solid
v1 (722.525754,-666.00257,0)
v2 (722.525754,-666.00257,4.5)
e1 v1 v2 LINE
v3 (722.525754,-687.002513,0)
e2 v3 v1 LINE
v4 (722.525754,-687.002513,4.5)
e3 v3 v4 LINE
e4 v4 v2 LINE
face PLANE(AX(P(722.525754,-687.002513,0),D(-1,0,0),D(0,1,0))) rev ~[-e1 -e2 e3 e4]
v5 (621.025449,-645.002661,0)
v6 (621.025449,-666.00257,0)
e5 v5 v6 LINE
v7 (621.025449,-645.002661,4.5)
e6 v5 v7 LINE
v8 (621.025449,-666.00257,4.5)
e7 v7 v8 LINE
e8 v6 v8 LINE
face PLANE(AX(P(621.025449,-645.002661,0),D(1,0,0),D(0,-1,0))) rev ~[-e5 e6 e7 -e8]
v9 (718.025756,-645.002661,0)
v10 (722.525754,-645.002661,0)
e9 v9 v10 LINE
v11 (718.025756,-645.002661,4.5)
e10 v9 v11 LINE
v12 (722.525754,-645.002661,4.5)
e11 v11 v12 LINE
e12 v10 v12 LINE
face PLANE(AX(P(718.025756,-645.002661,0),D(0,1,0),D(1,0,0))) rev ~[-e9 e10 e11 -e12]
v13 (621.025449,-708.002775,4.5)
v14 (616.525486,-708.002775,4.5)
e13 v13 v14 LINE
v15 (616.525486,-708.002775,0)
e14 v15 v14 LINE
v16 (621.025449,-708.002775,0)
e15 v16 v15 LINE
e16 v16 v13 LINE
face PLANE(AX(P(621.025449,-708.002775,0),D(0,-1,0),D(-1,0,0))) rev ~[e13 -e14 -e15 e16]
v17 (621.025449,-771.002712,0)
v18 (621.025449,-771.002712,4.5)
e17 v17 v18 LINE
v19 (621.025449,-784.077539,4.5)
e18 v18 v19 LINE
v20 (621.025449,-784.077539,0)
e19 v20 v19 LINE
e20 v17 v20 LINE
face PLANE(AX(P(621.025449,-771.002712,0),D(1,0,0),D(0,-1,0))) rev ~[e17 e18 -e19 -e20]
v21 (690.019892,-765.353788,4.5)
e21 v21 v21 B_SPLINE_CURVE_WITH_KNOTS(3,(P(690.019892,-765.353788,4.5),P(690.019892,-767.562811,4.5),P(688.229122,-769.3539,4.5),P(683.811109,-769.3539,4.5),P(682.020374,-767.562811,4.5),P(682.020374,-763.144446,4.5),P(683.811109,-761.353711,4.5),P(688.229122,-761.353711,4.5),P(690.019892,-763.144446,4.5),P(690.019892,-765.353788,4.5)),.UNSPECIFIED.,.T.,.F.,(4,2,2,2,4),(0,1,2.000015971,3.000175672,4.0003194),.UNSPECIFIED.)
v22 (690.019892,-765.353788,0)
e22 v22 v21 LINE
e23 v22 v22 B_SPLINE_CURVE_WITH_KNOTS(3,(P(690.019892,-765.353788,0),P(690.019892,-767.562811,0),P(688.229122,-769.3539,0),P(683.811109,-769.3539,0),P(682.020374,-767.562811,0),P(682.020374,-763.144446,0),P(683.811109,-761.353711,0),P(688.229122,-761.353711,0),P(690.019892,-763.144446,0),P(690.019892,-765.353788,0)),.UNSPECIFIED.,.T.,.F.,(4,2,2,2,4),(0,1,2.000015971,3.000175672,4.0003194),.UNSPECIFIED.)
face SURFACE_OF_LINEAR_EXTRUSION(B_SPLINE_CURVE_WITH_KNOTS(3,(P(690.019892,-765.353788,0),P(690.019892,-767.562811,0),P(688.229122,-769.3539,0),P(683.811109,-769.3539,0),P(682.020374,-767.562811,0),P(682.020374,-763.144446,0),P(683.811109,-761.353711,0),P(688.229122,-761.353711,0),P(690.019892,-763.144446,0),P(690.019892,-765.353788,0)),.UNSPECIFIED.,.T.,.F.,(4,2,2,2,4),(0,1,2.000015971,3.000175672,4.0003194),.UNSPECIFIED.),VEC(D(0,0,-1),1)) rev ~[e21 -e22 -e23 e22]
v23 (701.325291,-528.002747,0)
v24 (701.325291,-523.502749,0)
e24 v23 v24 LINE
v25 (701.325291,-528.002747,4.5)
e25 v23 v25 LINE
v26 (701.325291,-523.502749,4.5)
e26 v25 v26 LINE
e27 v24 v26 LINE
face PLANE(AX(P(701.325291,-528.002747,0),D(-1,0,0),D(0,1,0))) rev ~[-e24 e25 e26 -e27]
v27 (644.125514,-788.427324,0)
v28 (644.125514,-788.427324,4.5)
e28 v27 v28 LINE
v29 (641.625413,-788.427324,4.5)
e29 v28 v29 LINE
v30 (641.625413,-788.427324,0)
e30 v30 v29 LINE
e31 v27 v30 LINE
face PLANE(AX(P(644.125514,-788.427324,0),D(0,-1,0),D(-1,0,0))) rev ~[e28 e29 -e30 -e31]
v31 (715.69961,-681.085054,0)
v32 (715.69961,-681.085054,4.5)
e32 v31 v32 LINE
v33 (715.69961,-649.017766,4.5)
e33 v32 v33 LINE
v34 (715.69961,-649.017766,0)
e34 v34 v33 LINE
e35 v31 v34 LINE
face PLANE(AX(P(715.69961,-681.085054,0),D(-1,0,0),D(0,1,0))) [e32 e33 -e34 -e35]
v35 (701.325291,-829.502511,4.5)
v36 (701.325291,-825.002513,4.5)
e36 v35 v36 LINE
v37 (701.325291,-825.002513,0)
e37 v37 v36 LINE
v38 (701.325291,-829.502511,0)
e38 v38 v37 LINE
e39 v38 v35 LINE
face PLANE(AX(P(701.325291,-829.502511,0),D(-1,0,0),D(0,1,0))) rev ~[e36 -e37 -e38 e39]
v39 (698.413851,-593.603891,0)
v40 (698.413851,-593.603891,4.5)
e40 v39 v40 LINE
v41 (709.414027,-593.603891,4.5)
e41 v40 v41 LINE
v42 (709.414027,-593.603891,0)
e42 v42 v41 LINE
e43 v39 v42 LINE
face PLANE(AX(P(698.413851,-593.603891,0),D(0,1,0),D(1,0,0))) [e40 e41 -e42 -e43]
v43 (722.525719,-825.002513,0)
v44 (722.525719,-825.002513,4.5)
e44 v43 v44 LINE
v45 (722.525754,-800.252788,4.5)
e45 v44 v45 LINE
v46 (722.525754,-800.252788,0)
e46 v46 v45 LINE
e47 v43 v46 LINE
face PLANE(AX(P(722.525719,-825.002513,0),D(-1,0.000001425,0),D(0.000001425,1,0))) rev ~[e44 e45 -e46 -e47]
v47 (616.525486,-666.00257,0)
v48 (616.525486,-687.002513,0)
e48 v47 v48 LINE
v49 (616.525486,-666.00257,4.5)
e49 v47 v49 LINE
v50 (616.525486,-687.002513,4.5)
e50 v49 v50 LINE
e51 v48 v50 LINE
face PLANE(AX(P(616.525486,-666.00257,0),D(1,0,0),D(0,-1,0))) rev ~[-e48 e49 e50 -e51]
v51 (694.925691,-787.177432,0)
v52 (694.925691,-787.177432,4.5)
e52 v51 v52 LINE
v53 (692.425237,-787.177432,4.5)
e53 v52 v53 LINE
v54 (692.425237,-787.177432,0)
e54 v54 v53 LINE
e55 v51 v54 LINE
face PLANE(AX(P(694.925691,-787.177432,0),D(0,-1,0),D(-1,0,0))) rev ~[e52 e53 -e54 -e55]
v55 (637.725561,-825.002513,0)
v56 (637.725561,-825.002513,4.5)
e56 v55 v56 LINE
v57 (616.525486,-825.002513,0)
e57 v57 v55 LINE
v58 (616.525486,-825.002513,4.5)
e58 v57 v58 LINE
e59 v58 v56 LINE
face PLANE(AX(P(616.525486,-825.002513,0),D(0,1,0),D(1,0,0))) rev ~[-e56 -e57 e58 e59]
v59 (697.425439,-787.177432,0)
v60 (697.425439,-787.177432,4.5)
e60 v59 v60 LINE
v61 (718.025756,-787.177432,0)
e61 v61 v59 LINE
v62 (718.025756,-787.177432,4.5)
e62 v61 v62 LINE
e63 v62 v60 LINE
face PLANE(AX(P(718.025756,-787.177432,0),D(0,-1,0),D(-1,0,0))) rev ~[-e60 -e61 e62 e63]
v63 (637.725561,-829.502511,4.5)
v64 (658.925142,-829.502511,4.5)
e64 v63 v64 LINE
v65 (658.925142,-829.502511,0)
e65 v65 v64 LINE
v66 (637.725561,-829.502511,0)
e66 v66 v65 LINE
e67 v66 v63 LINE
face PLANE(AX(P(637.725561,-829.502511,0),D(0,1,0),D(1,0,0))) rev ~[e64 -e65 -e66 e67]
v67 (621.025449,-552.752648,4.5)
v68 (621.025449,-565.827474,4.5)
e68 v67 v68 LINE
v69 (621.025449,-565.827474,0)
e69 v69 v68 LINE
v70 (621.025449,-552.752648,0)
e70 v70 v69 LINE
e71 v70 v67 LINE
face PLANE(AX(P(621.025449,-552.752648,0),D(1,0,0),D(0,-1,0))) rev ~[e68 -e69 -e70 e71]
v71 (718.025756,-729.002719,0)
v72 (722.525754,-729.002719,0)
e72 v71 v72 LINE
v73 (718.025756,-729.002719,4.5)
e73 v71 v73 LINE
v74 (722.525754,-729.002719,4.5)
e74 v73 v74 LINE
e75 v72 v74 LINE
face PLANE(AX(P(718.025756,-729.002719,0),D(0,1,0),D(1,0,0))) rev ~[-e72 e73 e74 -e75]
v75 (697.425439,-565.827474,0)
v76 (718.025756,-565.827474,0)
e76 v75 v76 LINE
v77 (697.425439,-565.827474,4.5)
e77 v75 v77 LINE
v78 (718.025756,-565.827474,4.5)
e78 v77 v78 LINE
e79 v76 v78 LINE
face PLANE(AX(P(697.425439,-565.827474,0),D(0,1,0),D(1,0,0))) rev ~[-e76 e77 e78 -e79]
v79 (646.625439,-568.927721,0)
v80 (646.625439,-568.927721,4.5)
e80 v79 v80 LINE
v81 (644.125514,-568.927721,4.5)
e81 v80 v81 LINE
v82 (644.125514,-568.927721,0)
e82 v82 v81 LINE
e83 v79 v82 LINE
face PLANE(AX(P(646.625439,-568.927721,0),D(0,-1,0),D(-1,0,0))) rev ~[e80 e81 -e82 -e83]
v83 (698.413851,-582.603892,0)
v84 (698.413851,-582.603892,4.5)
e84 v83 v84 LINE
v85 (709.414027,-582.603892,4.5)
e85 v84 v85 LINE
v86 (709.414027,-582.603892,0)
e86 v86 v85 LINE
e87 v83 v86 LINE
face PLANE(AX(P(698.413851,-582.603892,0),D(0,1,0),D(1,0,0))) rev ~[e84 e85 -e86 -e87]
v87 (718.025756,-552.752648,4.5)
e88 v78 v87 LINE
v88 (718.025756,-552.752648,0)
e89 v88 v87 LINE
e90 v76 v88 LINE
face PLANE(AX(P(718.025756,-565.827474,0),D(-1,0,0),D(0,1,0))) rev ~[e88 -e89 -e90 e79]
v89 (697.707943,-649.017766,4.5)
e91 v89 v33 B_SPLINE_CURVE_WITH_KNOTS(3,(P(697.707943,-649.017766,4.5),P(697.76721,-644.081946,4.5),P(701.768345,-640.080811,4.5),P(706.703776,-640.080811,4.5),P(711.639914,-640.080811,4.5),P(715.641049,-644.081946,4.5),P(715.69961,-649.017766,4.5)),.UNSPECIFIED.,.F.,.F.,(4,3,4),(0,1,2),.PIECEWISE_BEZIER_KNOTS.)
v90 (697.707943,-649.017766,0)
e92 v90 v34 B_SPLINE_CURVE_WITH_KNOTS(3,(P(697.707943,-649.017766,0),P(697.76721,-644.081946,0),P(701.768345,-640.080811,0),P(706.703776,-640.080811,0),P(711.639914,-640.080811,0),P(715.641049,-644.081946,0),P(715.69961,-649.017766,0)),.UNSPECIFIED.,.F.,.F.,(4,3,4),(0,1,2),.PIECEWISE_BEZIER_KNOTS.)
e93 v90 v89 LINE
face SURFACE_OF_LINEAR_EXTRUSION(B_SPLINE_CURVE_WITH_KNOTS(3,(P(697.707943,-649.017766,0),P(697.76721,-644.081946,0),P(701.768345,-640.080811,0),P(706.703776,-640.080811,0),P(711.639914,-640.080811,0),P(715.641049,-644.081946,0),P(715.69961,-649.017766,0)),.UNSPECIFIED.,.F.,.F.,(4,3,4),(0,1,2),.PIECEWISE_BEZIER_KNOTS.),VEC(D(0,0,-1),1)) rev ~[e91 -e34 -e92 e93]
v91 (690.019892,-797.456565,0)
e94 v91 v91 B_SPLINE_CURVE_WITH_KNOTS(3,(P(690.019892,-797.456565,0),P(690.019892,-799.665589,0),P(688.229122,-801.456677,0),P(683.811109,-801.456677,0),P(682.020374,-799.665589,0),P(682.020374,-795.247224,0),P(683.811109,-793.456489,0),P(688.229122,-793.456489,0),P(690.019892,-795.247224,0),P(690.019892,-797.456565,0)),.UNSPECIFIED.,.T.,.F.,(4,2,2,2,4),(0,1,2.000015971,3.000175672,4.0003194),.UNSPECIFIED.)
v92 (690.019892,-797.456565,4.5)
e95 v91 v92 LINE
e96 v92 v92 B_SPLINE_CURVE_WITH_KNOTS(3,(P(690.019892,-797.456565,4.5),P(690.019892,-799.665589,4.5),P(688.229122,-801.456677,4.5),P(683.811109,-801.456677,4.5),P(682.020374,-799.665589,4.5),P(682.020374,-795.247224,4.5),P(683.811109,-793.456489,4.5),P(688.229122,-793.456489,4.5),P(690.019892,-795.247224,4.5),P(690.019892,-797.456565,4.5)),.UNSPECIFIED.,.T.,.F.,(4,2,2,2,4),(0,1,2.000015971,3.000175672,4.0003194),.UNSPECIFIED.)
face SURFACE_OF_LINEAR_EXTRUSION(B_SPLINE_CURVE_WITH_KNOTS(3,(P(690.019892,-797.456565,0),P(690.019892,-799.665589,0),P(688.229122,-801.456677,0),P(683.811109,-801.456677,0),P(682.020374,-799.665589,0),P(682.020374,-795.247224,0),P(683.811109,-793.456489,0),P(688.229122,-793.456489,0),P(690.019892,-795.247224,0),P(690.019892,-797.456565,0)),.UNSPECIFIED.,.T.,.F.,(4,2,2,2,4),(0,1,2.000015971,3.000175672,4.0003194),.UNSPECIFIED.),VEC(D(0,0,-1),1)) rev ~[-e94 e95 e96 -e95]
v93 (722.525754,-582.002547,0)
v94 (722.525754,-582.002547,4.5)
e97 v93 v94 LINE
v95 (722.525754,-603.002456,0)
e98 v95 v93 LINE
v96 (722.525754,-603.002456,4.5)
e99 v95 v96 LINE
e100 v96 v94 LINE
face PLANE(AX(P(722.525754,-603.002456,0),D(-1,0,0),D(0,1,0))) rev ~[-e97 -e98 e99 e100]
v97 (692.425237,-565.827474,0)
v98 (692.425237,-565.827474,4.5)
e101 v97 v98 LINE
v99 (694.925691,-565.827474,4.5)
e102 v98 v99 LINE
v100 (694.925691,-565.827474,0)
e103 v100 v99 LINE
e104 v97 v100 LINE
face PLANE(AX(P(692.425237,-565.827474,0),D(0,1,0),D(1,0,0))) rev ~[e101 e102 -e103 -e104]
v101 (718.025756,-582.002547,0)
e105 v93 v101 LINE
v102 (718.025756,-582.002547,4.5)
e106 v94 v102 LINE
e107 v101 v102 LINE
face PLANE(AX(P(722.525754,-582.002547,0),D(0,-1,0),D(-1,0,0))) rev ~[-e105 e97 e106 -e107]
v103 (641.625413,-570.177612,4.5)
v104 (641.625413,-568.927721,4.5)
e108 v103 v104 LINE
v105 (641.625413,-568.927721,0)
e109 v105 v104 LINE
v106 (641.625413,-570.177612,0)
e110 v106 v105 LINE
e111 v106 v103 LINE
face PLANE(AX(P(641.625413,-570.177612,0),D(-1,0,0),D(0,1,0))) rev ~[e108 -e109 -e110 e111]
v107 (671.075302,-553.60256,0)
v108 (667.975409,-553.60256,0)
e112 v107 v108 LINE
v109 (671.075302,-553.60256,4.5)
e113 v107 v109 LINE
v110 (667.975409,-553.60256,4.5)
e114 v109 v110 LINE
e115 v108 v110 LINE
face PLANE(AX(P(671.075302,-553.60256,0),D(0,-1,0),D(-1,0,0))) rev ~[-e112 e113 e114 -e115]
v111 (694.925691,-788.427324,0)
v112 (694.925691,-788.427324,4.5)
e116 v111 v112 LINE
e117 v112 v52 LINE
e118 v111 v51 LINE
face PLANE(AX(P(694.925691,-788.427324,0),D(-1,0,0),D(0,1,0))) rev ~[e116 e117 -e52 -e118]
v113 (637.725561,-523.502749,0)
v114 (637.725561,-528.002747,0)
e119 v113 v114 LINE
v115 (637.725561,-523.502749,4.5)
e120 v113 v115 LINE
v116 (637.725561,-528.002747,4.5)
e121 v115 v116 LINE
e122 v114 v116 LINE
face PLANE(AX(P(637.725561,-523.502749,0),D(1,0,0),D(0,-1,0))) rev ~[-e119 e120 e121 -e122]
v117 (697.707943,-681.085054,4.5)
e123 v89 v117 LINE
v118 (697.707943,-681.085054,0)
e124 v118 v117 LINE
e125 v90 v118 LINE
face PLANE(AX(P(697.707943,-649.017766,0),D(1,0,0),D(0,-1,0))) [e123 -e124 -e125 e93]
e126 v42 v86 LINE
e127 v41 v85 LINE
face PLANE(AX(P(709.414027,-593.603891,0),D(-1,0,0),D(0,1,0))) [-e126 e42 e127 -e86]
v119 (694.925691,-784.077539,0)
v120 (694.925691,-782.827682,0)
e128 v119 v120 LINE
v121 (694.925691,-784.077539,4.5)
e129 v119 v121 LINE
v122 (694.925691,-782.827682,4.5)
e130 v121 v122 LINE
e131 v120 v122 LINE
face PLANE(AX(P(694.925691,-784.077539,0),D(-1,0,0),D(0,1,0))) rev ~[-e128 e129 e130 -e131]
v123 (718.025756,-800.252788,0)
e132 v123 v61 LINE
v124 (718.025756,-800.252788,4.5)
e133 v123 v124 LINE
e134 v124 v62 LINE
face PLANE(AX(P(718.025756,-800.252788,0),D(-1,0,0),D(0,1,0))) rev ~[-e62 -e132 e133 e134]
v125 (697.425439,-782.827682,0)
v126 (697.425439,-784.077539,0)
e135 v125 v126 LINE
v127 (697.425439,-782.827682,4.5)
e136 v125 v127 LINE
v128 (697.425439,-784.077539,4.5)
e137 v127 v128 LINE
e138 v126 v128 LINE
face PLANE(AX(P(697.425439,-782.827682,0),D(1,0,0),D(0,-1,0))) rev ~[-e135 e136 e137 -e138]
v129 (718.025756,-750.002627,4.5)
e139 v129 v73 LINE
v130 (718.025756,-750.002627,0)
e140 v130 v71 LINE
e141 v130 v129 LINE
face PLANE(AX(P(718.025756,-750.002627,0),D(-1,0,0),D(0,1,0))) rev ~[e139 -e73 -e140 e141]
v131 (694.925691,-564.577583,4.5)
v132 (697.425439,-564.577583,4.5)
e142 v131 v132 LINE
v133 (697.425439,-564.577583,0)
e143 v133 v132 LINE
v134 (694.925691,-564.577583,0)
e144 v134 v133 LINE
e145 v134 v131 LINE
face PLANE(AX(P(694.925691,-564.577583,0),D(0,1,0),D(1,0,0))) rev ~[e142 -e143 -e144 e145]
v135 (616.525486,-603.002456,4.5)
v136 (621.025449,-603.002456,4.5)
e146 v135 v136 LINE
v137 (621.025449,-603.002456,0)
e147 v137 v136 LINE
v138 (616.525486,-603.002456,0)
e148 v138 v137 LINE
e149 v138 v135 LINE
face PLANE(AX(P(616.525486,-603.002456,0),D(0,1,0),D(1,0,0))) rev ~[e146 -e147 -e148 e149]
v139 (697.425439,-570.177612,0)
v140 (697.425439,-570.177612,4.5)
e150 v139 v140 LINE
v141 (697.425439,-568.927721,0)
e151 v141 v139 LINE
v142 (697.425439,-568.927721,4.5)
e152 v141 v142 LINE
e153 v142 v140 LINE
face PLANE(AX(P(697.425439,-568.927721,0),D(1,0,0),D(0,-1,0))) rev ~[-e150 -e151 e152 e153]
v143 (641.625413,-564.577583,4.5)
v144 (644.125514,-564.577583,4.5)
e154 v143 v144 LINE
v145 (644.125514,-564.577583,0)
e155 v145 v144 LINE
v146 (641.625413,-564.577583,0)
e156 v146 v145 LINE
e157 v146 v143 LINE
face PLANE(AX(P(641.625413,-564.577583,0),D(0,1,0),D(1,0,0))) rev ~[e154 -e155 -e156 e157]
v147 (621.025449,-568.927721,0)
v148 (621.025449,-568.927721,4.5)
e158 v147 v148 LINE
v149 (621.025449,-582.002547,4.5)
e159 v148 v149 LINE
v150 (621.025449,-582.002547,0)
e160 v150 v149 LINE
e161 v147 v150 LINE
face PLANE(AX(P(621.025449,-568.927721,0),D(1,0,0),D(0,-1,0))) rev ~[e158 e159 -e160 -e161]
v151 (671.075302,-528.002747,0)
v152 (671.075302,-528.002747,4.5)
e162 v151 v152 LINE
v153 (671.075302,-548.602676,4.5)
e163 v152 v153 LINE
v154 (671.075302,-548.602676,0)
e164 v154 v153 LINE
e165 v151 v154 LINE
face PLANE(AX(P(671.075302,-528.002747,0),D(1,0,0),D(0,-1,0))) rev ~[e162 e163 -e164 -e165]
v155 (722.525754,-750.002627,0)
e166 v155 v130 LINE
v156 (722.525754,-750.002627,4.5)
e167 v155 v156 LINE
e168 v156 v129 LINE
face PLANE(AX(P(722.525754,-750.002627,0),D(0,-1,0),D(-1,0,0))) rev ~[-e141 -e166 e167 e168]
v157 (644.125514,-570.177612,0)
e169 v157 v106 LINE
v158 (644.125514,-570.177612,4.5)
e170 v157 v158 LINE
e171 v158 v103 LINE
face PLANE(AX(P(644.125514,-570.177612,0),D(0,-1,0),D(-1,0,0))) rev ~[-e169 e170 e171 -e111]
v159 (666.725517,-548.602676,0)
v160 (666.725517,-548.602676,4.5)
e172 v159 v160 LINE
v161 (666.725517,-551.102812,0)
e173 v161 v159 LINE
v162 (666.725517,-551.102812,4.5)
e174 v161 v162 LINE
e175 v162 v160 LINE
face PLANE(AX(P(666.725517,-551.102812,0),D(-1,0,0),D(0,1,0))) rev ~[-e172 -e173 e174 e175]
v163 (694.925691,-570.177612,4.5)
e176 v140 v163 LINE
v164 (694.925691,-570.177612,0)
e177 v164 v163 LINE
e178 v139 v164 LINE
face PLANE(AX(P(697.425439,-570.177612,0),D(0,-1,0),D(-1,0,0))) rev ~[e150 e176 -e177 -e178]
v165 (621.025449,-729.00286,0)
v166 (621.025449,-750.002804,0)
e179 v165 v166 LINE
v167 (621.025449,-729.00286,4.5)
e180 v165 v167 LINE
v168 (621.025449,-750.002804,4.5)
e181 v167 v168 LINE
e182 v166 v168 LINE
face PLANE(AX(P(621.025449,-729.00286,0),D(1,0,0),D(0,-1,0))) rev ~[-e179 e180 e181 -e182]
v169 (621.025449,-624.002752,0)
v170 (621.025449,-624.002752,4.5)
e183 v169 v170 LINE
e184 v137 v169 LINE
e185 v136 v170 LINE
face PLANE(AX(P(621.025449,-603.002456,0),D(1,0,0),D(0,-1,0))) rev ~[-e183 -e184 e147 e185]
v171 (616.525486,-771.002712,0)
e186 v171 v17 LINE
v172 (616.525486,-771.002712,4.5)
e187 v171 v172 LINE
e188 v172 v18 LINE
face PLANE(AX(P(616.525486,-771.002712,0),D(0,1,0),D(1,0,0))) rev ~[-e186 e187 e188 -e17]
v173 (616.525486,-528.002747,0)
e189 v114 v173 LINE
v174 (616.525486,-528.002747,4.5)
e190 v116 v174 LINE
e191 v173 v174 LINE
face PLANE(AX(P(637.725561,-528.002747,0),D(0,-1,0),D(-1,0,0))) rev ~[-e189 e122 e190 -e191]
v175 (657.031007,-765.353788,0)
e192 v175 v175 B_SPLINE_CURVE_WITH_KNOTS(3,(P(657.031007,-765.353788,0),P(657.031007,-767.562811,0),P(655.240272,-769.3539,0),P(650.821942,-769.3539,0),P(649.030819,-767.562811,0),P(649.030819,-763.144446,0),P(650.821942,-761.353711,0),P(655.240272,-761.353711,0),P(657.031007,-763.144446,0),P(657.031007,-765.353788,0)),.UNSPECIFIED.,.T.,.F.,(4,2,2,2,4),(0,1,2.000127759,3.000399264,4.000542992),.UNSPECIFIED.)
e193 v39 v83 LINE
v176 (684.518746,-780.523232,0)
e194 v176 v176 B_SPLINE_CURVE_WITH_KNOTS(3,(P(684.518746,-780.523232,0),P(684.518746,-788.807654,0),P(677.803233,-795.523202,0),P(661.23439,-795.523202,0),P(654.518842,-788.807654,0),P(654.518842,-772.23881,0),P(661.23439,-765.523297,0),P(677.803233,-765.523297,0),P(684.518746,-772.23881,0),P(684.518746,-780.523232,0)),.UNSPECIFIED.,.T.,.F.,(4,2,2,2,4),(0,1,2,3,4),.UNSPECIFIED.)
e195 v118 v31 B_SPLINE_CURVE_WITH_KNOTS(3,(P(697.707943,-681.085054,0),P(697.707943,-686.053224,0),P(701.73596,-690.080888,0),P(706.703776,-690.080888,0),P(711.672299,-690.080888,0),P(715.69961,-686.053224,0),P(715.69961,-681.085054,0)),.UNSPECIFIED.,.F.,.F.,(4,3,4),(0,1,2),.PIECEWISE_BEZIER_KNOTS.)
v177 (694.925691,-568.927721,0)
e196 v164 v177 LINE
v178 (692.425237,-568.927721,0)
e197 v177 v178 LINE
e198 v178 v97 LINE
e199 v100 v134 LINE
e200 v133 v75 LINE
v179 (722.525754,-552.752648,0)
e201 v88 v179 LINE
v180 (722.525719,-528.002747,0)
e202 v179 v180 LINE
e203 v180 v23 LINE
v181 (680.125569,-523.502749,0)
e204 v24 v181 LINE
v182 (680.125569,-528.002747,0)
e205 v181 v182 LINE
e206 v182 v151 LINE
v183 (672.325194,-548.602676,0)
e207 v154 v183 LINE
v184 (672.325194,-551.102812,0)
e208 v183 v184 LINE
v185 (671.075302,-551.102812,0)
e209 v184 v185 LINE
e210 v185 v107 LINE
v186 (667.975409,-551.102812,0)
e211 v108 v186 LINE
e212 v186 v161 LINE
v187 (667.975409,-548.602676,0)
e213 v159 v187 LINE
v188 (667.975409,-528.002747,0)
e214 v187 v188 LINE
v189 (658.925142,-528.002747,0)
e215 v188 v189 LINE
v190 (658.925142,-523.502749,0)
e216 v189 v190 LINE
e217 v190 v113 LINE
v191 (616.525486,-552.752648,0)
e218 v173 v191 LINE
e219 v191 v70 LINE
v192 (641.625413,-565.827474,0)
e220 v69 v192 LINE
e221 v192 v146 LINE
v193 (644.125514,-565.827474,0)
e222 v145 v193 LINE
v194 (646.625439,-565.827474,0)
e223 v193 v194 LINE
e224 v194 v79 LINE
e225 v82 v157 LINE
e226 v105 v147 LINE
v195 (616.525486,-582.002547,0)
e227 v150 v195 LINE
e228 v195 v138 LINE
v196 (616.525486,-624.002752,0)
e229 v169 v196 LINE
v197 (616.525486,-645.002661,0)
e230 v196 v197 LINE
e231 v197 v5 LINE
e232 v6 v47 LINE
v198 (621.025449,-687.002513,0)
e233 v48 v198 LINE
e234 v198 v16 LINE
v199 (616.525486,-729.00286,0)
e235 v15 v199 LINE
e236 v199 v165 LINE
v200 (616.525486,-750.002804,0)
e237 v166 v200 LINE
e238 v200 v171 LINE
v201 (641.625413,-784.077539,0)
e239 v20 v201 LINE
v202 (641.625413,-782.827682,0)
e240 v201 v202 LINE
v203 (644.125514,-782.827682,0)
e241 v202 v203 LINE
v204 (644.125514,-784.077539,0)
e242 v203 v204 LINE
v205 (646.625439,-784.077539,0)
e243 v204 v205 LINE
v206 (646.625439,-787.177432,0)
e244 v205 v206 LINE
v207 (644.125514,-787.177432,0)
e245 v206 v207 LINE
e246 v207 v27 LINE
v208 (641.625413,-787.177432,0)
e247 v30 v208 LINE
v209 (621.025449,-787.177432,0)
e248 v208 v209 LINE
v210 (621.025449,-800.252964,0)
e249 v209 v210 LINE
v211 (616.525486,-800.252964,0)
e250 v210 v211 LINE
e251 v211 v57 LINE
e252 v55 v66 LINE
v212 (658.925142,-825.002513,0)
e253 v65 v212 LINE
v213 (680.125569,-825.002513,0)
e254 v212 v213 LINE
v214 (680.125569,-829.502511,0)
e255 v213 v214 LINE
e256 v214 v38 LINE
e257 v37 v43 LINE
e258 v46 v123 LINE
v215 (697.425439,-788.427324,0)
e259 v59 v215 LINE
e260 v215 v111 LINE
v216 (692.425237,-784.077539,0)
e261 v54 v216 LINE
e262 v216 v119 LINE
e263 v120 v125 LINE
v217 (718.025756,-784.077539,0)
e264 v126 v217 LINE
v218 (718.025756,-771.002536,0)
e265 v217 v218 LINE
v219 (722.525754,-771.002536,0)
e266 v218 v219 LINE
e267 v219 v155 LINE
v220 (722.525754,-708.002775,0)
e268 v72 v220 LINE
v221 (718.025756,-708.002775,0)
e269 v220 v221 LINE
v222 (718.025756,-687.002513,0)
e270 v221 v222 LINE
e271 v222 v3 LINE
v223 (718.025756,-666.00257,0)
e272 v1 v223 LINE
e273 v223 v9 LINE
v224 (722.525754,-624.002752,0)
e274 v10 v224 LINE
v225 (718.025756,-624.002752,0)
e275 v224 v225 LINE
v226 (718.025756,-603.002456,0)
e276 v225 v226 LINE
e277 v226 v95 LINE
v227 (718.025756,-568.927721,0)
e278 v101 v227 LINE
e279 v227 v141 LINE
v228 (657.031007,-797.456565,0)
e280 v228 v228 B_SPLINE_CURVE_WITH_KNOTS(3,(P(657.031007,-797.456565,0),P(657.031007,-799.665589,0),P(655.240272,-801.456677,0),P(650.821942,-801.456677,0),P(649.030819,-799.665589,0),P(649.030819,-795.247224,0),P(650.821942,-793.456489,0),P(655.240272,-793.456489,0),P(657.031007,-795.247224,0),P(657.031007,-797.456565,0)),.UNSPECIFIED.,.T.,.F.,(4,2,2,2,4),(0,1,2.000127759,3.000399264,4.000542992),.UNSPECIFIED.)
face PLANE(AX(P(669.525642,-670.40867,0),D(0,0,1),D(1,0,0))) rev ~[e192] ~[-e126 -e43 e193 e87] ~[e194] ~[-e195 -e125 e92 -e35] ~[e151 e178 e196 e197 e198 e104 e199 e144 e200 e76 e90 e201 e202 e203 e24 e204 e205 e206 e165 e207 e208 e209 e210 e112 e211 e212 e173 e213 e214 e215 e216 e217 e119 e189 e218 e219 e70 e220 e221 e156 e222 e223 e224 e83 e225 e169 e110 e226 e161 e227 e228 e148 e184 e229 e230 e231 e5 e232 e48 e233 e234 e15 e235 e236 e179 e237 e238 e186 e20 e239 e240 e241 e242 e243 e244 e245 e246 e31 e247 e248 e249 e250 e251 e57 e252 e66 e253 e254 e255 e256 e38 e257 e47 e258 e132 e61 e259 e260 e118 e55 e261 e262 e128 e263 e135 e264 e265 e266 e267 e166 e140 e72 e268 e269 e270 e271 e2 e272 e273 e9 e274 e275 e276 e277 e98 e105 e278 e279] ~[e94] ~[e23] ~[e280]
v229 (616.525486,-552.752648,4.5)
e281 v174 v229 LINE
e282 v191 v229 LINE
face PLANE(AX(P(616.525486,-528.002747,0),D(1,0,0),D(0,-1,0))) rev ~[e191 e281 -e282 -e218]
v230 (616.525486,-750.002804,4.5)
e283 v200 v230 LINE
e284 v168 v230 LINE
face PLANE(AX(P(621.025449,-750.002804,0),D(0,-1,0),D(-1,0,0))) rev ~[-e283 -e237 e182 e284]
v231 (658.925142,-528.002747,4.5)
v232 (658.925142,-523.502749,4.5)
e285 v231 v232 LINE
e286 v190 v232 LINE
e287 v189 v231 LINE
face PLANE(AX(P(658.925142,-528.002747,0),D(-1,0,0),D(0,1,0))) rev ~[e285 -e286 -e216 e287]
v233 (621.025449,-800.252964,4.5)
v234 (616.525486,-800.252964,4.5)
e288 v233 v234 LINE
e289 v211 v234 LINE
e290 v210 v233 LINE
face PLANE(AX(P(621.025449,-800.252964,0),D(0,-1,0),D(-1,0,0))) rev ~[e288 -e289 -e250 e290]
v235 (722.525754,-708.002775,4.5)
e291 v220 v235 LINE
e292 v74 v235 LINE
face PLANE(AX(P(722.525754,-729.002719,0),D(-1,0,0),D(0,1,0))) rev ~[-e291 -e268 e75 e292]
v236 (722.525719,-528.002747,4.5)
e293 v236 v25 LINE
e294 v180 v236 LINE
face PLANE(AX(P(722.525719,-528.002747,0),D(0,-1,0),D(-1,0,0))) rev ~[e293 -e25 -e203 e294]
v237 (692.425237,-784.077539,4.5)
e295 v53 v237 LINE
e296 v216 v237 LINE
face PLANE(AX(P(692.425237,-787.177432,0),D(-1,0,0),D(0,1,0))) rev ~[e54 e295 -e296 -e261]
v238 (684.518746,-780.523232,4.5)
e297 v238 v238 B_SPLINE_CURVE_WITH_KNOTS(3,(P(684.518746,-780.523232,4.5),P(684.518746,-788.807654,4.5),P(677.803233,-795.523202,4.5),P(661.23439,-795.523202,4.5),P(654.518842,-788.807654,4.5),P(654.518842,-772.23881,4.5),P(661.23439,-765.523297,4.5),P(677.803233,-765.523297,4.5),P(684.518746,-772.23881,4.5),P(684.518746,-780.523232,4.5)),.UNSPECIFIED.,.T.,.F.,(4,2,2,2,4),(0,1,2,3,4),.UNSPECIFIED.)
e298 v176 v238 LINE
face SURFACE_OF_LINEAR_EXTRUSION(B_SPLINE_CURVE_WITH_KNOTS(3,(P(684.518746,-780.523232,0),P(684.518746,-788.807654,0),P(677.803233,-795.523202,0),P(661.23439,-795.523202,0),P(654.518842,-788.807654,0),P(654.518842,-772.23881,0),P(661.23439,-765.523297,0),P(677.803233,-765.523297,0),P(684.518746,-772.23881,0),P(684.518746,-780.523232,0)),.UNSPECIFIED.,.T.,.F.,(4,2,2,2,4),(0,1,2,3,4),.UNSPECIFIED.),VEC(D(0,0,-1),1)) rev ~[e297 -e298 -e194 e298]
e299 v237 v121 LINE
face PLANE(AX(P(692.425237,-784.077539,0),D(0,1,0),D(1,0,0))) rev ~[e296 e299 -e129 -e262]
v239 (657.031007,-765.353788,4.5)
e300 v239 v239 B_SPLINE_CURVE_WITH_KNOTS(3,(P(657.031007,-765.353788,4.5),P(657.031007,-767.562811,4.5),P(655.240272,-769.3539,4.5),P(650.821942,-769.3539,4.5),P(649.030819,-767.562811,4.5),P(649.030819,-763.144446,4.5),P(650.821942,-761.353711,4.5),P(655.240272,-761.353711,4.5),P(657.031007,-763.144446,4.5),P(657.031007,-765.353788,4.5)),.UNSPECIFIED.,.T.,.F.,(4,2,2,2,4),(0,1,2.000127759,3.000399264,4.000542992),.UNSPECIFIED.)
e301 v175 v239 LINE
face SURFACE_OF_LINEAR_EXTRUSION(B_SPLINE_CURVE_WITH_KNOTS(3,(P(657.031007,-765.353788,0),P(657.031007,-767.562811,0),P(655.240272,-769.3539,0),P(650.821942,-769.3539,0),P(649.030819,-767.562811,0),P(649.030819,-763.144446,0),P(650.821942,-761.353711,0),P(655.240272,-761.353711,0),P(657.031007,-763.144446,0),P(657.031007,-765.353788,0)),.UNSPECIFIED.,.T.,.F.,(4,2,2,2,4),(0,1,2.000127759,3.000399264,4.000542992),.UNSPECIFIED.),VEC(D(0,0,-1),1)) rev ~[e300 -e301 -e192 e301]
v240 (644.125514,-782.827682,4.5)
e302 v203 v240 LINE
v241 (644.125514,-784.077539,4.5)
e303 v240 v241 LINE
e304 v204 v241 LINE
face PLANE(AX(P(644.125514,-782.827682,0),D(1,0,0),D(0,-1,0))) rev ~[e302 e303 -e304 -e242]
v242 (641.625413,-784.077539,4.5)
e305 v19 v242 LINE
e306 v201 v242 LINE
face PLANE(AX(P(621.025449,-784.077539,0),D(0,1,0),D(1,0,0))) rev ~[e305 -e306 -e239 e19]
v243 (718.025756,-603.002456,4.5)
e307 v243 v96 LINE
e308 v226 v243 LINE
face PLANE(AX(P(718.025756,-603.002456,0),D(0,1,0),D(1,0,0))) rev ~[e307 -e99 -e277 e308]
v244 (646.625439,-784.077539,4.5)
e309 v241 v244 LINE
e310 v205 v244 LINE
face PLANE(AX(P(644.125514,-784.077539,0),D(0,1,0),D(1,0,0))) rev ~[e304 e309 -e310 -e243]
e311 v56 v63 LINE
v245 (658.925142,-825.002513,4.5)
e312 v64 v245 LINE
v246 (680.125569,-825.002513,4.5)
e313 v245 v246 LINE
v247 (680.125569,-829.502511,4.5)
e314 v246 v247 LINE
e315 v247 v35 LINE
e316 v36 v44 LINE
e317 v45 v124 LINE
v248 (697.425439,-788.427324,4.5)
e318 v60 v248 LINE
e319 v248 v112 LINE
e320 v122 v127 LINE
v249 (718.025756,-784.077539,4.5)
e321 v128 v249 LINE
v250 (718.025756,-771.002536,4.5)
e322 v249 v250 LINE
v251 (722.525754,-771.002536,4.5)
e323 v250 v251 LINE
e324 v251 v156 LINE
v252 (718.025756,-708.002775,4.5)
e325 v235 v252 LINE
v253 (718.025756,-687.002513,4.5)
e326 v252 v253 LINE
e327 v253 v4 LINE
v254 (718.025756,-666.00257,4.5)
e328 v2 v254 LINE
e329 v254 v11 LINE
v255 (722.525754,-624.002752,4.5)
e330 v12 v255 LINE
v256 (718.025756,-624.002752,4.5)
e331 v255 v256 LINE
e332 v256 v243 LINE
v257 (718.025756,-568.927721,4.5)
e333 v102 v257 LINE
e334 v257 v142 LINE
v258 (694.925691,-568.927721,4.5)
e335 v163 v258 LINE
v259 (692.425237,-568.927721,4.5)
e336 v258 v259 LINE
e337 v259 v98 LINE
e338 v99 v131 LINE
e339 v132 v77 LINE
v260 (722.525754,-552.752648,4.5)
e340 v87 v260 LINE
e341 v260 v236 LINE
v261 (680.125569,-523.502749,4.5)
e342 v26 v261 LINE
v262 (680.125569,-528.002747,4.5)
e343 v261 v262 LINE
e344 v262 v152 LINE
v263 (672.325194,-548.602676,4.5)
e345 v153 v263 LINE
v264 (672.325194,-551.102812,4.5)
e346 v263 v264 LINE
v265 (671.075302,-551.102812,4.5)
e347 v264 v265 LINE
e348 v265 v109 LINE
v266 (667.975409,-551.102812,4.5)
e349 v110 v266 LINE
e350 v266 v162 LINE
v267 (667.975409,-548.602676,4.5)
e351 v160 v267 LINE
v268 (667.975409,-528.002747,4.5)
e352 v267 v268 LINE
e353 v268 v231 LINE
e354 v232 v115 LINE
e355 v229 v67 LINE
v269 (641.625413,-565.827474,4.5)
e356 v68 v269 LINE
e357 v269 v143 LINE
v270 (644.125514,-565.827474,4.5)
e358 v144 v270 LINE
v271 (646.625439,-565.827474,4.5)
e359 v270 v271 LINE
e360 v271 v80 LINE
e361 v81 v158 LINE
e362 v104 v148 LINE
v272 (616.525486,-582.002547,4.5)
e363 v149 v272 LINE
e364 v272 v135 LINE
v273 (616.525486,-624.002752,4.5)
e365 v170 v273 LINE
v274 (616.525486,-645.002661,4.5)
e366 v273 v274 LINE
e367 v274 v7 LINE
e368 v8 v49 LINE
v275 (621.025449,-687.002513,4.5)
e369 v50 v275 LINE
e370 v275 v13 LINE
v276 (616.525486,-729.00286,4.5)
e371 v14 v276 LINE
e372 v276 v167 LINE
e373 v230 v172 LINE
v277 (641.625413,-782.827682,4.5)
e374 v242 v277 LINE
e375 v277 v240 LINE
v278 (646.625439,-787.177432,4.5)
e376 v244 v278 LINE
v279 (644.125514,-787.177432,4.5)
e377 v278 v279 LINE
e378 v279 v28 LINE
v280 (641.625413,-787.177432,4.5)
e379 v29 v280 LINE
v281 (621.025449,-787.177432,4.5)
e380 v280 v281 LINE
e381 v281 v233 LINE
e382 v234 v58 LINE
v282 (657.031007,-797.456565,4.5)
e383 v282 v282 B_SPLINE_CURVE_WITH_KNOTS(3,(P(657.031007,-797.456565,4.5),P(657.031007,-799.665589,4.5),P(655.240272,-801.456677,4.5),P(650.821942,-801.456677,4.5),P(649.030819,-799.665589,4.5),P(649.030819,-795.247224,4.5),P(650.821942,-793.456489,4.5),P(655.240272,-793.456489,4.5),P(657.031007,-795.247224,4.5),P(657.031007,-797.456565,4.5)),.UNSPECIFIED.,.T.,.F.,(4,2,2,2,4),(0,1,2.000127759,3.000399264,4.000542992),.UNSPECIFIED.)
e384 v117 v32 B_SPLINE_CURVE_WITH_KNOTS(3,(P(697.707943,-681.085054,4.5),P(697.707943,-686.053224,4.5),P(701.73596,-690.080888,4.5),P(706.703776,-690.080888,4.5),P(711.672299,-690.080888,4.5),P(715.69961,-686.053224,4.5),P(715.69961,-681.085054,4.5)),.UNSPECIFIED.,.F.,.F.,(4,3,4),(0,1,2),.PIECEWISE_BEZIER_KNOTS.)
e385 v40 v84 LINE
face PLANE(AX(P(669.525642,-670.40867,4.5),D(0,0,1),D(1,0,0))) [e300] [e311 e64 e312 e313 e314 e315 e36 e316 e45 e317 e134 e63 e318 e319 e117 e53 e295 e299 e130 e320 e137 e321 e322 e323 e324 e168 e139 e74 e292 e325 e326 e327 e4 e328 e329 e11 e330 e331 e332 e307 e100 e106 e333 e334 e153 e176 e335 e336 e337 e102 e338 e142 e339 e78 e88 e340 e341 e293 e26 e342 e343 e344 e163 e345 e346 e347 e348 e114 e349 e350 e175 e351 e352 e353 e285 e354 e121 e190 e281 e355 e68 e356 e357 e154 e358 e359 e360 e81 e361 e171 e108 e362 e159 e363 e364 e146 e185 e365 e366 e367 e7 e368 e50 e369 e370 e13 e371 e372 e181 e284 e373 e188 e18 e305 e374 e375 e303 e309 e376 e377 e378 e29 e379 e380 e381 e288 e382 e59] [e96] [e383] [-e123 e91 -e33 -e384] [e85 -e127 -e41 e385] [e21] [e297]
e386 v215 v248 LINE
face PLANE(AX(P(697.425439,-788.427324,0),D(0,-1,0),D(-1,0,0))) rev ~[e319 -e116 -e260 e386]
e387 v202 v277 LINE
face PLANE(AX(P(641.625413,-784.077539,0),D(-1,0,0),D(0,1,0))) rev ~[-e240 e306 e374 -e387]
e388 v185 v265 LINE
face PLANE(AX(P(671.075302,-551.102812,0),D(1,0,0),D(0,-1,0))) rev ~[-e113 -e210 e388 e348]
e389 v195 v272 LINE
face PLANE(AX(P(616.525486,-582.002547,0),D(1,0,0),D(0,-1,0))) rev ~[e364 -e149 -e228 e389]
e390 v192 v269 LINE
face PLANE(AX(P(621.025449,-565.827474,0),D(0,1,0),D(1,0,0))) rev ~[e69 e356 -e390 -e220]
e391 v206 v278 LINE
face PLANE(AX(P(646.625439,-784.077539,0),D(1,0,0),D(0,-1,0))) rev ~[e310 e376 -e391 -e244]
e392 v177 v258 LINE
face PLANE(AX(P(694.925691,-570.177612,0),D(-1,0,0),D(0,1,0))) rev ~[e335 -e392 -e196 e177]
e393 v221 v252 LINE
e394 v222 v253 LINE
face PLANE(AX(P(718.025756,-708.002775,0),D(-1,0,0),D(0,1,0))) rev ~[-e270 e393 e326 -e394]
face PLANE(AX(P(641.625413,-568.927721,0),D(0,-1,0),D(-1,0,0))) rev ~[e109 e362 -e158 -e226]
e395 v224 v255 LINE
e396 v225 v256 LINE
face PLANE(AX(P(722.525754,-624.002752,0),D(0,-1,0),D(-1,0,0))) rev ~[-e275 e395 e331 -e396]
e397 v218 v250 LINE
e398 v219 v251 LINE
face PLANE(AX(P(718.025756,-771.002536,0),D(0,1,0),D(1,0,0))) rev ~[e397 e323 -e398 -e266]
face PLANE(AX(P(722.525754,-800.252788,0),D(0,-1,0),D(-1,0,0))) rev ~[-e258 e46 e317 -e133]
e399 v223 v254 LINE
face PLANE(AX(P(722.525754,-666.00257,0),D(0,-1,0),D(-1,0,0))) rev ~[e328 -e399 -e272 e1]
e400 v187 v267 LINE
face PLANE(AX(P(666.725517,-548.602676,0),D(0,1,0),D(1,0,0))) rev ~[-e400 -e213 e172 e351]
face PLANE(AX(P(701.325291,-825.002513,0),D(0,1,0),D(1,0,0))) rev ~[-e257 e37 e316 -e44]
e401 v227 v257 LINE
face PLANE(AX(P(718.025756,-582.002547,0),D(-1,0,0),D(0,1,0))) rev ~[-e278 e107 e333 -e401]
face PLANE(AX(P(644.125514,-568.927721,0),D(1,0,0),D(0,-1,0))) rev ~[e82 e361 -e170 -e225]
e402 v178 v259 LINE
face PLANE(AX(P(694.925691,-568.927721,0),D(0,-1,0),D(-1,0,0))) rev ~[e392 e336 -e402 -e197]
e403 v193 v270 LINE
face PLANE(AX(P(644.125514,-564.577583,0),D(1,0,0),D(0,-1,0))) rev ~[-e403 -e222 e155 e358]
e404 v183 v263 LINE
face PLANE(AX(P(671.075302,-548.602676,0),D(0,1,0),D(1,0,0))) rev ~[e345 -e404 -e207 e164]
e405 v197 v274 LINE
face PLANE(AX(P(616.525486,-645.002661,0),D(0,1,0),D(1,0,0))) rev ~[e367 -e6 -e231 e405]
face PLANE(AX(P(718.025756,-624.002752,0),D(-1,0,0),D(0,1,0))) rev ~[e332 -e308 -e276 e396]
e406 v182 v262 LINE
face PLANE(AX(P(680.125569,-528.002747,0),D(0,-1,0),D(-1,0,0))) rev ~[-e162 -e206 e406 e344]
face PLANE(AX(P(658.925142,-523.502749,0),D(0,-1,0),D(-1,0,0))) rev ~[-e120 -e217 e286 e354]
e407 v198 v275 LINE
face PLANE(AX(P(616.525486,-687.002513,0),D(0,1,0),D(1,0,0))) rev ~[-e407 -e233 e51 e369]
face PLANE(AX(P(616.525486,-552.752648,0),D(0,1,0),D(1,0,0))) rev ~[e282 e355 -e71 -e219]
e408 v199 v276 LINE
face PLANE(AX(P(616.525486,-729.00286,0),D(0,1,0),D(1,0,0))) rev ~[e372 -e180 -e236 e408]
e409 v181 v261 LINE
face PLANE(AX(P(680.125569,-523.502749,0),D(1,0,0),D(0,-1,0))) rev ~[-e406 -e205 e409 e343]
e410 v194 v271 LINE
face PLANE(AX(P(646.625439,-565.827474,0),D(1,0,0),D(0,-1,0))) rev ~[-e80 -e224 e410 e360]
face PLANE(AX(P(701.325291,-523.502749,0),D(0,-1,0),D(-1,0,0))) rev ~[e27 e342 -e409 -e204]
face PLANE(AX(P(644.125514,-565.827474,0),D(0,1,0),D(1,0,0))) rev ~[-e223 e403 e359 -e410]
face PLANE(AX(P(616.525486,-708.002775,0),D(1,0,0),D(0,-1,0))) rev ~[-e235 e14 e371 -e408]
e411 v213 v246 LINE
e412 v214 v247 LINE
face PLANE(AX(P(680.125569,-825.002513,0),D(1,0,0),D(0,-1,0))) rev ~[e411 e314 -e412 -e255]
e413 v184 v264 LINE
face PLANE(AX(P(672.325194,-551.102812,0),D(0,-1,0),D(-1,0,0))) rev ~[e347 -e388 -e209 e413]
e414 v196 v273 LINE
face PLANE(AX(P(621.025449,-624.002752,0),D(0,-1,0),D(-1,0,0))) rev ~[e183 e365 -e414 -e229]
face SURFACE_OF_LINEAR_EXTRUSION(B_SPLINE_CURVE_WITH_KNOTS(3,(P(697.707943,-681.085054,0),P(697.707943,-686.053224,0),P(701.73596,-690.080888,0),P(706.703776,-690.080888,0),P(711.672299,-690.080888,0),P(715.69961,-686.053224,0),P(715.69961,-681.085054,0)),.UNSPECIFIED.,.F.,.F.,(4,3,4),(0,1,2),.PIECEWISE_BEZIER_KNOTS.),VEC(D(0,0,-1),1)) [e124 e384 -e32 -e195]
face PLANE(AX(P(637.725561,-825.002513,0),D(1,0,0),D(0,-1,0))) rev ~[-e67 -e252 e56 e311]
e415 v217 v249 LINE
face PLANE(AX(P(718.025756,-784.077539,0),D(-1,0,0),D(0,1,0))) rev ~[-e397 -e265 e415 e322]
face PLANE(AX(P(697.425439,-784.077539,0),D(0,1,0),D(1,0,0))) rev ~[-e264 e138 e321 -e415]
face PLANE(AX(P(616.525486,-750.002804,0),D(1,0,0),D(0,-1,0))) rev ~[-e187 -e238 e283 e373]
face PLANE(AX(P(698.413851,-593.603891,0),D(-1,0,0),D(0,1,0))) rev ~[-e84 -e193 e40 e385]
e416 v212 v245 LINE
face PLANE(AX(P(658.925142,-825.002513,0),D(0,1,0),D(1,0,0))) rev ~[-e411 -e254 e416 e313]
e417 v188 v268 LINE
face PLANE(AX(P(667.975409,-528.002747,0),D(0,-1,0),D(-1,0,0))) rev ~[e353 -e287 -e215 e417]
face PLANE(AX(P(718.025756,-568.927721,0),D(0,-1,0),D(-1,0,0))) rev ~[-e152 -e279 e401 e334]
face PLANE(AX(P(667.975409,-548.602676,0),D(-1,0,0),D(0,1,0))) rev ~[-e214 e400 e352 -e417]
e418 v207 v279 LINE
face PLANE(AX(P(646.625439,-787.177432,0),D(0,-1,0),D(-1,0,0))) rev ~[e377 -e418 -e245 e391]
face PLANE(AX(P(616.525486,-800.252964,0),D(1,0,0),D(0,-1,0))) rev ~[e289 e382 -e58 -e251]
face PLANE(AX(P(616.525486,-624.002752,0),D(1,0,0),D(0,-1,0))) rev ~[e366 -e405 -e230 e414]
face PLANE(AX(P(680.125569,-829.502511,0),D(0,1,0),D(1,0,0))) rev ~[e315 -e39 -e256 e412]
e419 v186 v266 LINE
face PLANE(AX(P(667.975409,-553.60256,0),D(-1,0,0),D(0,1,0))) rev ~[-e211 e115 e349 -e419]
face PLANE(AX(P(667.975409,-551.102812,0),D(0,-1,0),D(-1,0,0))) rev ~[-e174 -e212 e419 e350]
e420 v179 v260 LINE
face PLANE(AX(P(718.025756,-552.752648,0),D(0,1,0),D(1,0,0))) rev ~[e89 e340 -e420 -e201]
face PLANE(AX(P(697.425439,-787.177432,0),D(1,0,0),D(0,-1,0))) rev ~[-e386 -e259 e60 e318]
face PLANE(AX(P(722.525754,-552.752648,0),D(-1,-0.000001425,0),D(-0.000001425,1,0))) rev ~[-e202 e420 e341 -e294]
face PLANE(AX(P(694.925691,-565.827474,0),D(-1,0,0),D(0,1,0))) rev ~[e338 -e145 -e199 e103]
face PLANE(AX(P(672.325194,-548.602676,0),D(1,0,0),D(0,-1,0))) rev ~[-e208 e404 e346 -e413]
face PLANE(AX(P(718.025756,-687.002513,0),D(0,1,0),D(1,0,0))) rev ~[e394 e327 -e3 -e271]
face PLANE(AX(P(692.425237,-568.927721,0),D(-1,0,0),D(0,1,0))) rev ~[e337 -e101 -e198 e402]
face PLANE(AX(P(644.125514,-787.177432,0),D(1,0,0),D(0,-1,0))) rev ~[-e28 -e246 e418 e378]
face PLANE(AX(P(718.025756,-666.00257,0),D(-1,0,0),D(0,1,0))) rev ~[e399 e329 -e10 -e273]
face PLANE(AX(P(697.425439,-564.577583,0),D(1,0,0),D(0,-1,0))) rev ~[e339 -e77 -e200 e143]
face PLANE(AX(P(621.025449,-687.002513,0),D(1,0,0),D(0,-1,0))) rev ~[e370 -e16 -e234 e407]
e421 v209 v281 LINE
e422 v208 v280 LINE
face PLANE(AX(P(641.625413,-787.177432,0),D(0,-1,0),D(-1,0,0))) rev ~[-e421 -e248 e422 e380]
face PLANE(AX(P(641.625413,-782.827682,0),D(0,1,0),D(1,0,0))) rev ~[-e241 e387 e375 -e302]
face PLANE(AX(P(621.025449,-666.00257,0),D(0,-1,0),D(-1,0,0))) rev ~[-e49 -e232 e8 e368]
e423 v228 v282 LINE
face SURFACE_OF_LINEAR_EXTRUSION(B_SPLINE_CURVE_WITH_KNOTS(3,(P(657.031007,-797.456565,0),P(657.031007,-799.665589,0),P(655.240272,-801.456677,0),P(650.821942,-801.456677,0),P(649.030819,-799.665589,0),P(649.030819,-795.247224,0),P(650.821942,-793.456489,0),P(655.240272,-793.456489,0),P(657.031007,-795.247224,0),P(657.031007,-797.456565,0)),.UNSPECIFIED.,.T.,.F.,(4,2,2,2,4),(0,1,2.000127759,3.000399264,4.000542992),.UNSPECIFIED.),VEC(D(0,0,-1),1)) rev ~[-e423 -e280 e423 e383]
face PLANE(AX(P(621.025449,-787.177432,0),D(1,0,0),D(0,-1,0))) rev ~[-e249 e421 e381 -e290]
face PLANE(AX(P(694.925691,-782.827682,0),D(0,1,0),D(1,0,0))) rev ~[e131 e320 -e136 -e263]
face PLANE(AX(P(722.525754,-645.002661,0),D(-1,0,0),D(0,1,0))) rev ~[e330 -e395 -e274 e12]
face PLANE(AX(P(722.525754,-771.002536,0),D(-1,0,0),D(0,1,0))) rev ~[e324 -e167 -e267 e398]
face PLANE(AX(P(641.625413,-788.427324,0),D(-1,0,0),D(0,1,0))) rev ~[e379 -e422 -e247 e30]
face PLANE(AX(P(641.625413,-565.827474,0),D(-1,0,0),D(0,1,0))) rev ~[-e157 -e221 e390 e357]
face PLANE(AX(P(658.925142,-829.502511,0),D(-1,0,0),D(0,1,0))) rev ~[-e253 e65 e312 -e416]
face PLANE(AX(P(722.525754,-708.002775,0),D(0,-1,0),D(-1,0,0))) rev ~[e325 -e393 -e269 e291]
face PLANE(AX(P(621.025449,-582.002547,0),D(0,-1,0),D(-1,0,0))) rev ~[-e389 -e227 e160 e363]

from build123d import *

# Parameters (mm, degrees)
MODEL_W             = 11.000175553
MODEL_H             = 10.999999163
BOSS_EXTRUDE1_DEPTH = 4.5


with BuildPart() as part:
    # Model → Boss-Extrude1 (new body)
    with BuildSketch(Plane.XY):
        Polygon((718.025755932, -565.527754303), (718.025755932, -552.752647917), (722.525753986, -552.752647917), (722.525718708, -528.002746812), (701.325291214, -528.002746812), (701.325291214, -523.502748758), (680.125569274, -523.502748758), (680.125569274, -528.002746812), (671.075302332, -528.002746812), (671.075302332, -548.602675974), (672.325193999, -548.602675974), (672.325193999, -551.102812084), (671.075302332, -551.102812084), (671.075302332, -553.602560139), (667.975408722, -553.602560139), (667.975408722, -551.102812084), (666.725517056, -551.102812084), (666.725517056, -548.602675974), (667.975408722, -548.602675974), (667.975408722, -528.002746812), (658.92514178, -528.002746812), (658.92514178, -523.502748758), (637.725560952, -523.502748758), (637.725560952, -528.002746812), (616.525486235, -528.002746812), (616.525486235, -552.752647917), (621.025449011, -552.752647917), (621.025449011, -565.827474303), (641.625413451, -565.827474303), (641.625413451, -564.577582637), (644.125514283, -564.577582637), (644.125514283, -565.827474303), (646.625438727, -565.827474303), (646.625438727, -568.927720691), (644.125514283, -568.927720691), (644.125514283, -570.177612357), (641.625413451, -570.177612357), (641.625413451, -568.927720691), (621.025449011, -568.927720691), (621.025449011, -582.002547077), (616.525486235, -582.002547077), (616.525486235, -603.002455683), (621.025449011, -603.002455683), (621.025449011, -624.002752344), (616.525486235, -624.002752344), (616.525486235, -645.00266095), (621.025449011, -645.00266095), (621.025449011, -666.002569556), (616.525486235, -666.002569556), (616.525486235, -687.002513439), (621.025449011, -687.002513439), (621.025449011, -708.002774823), (616.525486235, -708.002774823), (616.525486235, -729.002859818), (621.025449011, -729.002859818), (621.025449011, -750.002803701), (616.525486235, -750.002803701), (616.525486235, -771.002712307), (621.025449011, -771.002712307), (621.025449011, -784.077538693), (641.625413451, -784.077538693), (641.625413451, -782.827682304), (644.125514283, -782.827682304), (644.125514283, -784.077538693), (646.625438727, -784.077538693), (646.625438727, -787.177432303), (644.125514283, -787.177432303), (644.125514283, -788.42732397), (641.625413451, -788.42732397), (641.625413451, -787.177432303), (621.025449011, -787.177432303), (621.025449011, -800.252964244), (616.525486235, -800.252964244), (616.525486235, -825.002512572), (637.725560952, -825.002512572), (637.725560952, -829.502510626), (658.92514178, -829.502510626), (658.92514178, -825.002512572), (667.975408722, -825.002512572), (671.075302332, -825.002512572), (680.125569274, -825.002512572), (680.125569274, -829.502510626), (701.325291214, -829.502510626), (701.325291214, -825.002512572), (722.525718708, -825.002512572), (722.525753986, -800.252787855), (718.025755932, -800.252787855), (718.025755932, -787.47768147), (718.025755932, -787.177432303), (697.425438715, -787.177432303), (697.425438715, -788.42732397), (694.92569066, -788.42732397), (694.92569066, -787.177432303), (692.425237049, -787.177432303), (692.425237049, -784.077538693), (694.92569066, -784.077538693), (694.92569066, -782.827682304), (697.425438715, -782.827682304), (697.425438715, -784.077538693), (718.025755932, -784.077538693), (718.025755932, -783.777642304), (718.025755932, -771.002535918), (722.525753986, -771.002535918), (722.525753986, -750.002627312), (718.025755932, -750.002627312), (718.025755932, -729.002718707), (722.525753986, -729.002718707), (722.525753986, -708.002774823), (718.025755932, -708.002774823), (718.025755932, -687.002513439), (722.525753986, -687.002513439), (722.525753986, -666.002569556), (718.025755932, -666.002569556), (718.025755932, -645.00266095), (722.525753986, -645.00266095), (722.525753986, -624.002752344), (718.025755932, -624.002752344), (718.025755932, -603.002455683), (722.525753986, -603.002455683), (722.525753986, -582.002547077), (718.025755932, -582.002547077), (718.025755932, -569.227793469), (718.025755932, -568.927720691), (697.425438715, -568.927720691), (697.425438715, -570.177612357), (694.92569066, -570.177612357), (694.92569066, -568.927720691), (692.425237049, -568.927720691), (692.425237049, -565.827474303), (694.92569066, -565.827474303), (694.92569066, -564.577582637), (697.425438715, -564.577582637), (697.425438715, -565.827474303), (718.025755932, -565.827474303), align=None)
        with BuildLine():
            Line((715.699609821, -681.085054274), (715.699609821, -649.017765949))
            add(Edge.make_bspline(
                [(697.707943159, -649.017765949), (697.767209826, -644.081946228), (701.768344825, -640.080811229), (706.70377649, -640.080811229), (711.639913711, -640.080811229), (715.64104871, -644.081946228), (715.699609821, -649.017765949)],
                knots=[0, 0, 0, 0, 1, 1, 1, 2, 2, 2, 2], degree=3))
            Line((697.707943159, -649.017765949), (697.707943159, -681.085054274))
            add(Edge.make_bspline(
                [(697.707943159, -681.085054274), (697.707943159, -686.053223717), (701.735959825, -690.080887605), (706.70377649, -690.080887605), (711.672298711, -690.080887605), (715.699609821, -686.053223717), (715.699609821, -681.085054274)],
                knots=[0, 0, 0, 0, 1, 1, 1, 2, 2, 2, 2], degree=3))
        make_face(mode=Mode.SUBTRACT)
        with Locations((703.913939269, -588.103891659)):
            Rectangle(MODEL_W, MODEL_H, mode=Mode.SUBTRACT)
        with BuildLine():
            add(Edge.make_bspline(
                [(654.518841503, -780.523232027), (654.518841503, -772.238810362), (661.234389835, -765.523297309), (669.518811499, -765.523297309), (677.803233164, -765.523297309), (684.518746218, -772.238810362), (684.518746218, -780.523232027)],
                knots=[2, 2, 2, 2, 3, 3, 3, 4, 4, 4, 4], degree=3))
            add(Edge.make_bspline(
                [(684.518746218, -780.523232027), (684.518746218, -788.807653692), (677.803233164, -795.523202023), (669.518811499, -795.523202023), (661.234389835, -795.523202023), (654.518841503, -788.807653692), (654.518841503, -780.523232027)],
                knots=[0, 0, 0, 0, 1, 1, 1, 2, 2, 2, 2], degree=3))
        make_face(mode=Mode.SUBTRACT)
        with BuildLine():
            add(Edge.make_bspline(
                [(682.020373996, -797.456565356), (682.020373996, -795.247223968), (683.811109273, -793.456488691), (686.020133162, -793.456488691), (688.229121772, -793.456488691), (690.019892327, -795.247223968), (690.019892327, -797.456565356)],
                knots=[2, 2, 2, 2, 3, 3, 3, 4, 4, 4, 4], degree=3))
            add(Edge.make_bspline(
                [(690.019892327, -797.456565356), (690.019892327, -799.665589245), (688.229121772, -801.4566773), (686.020133162, -801.4566773), (683.811109273, -801.4566773), (682.020373996, -799.665589245), (682.020373996, -797.456565356)],
                knots=[0, 0, 0, 0, 1, 1, 1, 2, 2, 2, 2], degree=3))
        make_face(mode=Mode.SUBTRACT)
        with BuildLine():
            add(Edge.make_bspline(
                [(682.020373996, -765.353787586), (682.020373996, -763.144446198), (683.811109273, -761.353710921), (686.020133162, -761.353710921), (688.229121772, -761.353710921), (690.019892327, -763.144446198), (690.019892327, -765.353787586)],
                knots=[2, 2, 2, 2, 3, 3, 3, 4, 4, 4, 4], degree=3))
            add(Edge.make_bspline(
                [(690.019892327, -765.353787586), (690.019892327, -767.562811475), (688.229121772, -769.35389953), (686.020133162, -769.35389953), (683.811109273, -769.35389953), (682.020373996, -767.562811475), (682.020373996, -765.353787586)],
                knots=[0, 0, 0, 0, 1, 1, 1, 2, 2, 2, 2], degree=3))
        make_face(mode=Mode.SUBTRACT)
        with BuildLine():
            add(Edge.make_bspline(
                [(649.030818727, -765.353787586), (649.030818727, -763.144446198), (650.82194206, -761.353710921), (653.03124817, -761.353710921), (655.240272058, -761.353710921), (657.031007336, -763.144446198), (657.031007336, -765.353787586)],
                knots=[2, 2, 2, 2, 3, 3, 3, 4, 4, 4, 4], degree=3))
            add(Edge.make_bspline(
                [(657.031007336, -765.353787586), (657.031007336, -767.562811475), (655.240272058, -769.35389953), (653.03124817, -769.35389953), (650.82194206, -769.35389953), (649.030818727, -767.562811475), (649.030818727, -765.353787586)],
                knots=[0, 0, 0, 0, 1, 1, 1, 2, 2, 2, 2], degree=3))
        make_face(mode=Mode.SUBTRACT)
        with BuildLine():
            add(Edge.make_bspline(
                [(649.030818727, -797.456565356), (649.030818727, -795.247223968), (650.82194206, -793.456488691), (653.03124817, -793.456488691), (655.240272058, -793.456488691), (657.031007336, -795.247223968), (657.031007336, -797.456565356)],
                knots=[2, 2, 2, 2, 3, 3, 3, 4, 4, 4, 4], degree=3))
            add(Edge.make_bspline(
                [(657.031007336, -797.456565356), (657.031007336, -799.665589245), (655.240272058, -801.4566773), (653.03124817, -801.4566773), (650.82194206, -801.4566773), (649.030818727, -799.665589245), (649.030818727, -797.456565356)],
                knots=[0, 0, 0, 0, 1, 1, 1, 2, 2, 2, 2], degree=3))
        make_face(mode=Mode.SUBTRACT)
    extrude(amount=BOSS_EXTRUDE1_DEPTH)


solid = part.part
